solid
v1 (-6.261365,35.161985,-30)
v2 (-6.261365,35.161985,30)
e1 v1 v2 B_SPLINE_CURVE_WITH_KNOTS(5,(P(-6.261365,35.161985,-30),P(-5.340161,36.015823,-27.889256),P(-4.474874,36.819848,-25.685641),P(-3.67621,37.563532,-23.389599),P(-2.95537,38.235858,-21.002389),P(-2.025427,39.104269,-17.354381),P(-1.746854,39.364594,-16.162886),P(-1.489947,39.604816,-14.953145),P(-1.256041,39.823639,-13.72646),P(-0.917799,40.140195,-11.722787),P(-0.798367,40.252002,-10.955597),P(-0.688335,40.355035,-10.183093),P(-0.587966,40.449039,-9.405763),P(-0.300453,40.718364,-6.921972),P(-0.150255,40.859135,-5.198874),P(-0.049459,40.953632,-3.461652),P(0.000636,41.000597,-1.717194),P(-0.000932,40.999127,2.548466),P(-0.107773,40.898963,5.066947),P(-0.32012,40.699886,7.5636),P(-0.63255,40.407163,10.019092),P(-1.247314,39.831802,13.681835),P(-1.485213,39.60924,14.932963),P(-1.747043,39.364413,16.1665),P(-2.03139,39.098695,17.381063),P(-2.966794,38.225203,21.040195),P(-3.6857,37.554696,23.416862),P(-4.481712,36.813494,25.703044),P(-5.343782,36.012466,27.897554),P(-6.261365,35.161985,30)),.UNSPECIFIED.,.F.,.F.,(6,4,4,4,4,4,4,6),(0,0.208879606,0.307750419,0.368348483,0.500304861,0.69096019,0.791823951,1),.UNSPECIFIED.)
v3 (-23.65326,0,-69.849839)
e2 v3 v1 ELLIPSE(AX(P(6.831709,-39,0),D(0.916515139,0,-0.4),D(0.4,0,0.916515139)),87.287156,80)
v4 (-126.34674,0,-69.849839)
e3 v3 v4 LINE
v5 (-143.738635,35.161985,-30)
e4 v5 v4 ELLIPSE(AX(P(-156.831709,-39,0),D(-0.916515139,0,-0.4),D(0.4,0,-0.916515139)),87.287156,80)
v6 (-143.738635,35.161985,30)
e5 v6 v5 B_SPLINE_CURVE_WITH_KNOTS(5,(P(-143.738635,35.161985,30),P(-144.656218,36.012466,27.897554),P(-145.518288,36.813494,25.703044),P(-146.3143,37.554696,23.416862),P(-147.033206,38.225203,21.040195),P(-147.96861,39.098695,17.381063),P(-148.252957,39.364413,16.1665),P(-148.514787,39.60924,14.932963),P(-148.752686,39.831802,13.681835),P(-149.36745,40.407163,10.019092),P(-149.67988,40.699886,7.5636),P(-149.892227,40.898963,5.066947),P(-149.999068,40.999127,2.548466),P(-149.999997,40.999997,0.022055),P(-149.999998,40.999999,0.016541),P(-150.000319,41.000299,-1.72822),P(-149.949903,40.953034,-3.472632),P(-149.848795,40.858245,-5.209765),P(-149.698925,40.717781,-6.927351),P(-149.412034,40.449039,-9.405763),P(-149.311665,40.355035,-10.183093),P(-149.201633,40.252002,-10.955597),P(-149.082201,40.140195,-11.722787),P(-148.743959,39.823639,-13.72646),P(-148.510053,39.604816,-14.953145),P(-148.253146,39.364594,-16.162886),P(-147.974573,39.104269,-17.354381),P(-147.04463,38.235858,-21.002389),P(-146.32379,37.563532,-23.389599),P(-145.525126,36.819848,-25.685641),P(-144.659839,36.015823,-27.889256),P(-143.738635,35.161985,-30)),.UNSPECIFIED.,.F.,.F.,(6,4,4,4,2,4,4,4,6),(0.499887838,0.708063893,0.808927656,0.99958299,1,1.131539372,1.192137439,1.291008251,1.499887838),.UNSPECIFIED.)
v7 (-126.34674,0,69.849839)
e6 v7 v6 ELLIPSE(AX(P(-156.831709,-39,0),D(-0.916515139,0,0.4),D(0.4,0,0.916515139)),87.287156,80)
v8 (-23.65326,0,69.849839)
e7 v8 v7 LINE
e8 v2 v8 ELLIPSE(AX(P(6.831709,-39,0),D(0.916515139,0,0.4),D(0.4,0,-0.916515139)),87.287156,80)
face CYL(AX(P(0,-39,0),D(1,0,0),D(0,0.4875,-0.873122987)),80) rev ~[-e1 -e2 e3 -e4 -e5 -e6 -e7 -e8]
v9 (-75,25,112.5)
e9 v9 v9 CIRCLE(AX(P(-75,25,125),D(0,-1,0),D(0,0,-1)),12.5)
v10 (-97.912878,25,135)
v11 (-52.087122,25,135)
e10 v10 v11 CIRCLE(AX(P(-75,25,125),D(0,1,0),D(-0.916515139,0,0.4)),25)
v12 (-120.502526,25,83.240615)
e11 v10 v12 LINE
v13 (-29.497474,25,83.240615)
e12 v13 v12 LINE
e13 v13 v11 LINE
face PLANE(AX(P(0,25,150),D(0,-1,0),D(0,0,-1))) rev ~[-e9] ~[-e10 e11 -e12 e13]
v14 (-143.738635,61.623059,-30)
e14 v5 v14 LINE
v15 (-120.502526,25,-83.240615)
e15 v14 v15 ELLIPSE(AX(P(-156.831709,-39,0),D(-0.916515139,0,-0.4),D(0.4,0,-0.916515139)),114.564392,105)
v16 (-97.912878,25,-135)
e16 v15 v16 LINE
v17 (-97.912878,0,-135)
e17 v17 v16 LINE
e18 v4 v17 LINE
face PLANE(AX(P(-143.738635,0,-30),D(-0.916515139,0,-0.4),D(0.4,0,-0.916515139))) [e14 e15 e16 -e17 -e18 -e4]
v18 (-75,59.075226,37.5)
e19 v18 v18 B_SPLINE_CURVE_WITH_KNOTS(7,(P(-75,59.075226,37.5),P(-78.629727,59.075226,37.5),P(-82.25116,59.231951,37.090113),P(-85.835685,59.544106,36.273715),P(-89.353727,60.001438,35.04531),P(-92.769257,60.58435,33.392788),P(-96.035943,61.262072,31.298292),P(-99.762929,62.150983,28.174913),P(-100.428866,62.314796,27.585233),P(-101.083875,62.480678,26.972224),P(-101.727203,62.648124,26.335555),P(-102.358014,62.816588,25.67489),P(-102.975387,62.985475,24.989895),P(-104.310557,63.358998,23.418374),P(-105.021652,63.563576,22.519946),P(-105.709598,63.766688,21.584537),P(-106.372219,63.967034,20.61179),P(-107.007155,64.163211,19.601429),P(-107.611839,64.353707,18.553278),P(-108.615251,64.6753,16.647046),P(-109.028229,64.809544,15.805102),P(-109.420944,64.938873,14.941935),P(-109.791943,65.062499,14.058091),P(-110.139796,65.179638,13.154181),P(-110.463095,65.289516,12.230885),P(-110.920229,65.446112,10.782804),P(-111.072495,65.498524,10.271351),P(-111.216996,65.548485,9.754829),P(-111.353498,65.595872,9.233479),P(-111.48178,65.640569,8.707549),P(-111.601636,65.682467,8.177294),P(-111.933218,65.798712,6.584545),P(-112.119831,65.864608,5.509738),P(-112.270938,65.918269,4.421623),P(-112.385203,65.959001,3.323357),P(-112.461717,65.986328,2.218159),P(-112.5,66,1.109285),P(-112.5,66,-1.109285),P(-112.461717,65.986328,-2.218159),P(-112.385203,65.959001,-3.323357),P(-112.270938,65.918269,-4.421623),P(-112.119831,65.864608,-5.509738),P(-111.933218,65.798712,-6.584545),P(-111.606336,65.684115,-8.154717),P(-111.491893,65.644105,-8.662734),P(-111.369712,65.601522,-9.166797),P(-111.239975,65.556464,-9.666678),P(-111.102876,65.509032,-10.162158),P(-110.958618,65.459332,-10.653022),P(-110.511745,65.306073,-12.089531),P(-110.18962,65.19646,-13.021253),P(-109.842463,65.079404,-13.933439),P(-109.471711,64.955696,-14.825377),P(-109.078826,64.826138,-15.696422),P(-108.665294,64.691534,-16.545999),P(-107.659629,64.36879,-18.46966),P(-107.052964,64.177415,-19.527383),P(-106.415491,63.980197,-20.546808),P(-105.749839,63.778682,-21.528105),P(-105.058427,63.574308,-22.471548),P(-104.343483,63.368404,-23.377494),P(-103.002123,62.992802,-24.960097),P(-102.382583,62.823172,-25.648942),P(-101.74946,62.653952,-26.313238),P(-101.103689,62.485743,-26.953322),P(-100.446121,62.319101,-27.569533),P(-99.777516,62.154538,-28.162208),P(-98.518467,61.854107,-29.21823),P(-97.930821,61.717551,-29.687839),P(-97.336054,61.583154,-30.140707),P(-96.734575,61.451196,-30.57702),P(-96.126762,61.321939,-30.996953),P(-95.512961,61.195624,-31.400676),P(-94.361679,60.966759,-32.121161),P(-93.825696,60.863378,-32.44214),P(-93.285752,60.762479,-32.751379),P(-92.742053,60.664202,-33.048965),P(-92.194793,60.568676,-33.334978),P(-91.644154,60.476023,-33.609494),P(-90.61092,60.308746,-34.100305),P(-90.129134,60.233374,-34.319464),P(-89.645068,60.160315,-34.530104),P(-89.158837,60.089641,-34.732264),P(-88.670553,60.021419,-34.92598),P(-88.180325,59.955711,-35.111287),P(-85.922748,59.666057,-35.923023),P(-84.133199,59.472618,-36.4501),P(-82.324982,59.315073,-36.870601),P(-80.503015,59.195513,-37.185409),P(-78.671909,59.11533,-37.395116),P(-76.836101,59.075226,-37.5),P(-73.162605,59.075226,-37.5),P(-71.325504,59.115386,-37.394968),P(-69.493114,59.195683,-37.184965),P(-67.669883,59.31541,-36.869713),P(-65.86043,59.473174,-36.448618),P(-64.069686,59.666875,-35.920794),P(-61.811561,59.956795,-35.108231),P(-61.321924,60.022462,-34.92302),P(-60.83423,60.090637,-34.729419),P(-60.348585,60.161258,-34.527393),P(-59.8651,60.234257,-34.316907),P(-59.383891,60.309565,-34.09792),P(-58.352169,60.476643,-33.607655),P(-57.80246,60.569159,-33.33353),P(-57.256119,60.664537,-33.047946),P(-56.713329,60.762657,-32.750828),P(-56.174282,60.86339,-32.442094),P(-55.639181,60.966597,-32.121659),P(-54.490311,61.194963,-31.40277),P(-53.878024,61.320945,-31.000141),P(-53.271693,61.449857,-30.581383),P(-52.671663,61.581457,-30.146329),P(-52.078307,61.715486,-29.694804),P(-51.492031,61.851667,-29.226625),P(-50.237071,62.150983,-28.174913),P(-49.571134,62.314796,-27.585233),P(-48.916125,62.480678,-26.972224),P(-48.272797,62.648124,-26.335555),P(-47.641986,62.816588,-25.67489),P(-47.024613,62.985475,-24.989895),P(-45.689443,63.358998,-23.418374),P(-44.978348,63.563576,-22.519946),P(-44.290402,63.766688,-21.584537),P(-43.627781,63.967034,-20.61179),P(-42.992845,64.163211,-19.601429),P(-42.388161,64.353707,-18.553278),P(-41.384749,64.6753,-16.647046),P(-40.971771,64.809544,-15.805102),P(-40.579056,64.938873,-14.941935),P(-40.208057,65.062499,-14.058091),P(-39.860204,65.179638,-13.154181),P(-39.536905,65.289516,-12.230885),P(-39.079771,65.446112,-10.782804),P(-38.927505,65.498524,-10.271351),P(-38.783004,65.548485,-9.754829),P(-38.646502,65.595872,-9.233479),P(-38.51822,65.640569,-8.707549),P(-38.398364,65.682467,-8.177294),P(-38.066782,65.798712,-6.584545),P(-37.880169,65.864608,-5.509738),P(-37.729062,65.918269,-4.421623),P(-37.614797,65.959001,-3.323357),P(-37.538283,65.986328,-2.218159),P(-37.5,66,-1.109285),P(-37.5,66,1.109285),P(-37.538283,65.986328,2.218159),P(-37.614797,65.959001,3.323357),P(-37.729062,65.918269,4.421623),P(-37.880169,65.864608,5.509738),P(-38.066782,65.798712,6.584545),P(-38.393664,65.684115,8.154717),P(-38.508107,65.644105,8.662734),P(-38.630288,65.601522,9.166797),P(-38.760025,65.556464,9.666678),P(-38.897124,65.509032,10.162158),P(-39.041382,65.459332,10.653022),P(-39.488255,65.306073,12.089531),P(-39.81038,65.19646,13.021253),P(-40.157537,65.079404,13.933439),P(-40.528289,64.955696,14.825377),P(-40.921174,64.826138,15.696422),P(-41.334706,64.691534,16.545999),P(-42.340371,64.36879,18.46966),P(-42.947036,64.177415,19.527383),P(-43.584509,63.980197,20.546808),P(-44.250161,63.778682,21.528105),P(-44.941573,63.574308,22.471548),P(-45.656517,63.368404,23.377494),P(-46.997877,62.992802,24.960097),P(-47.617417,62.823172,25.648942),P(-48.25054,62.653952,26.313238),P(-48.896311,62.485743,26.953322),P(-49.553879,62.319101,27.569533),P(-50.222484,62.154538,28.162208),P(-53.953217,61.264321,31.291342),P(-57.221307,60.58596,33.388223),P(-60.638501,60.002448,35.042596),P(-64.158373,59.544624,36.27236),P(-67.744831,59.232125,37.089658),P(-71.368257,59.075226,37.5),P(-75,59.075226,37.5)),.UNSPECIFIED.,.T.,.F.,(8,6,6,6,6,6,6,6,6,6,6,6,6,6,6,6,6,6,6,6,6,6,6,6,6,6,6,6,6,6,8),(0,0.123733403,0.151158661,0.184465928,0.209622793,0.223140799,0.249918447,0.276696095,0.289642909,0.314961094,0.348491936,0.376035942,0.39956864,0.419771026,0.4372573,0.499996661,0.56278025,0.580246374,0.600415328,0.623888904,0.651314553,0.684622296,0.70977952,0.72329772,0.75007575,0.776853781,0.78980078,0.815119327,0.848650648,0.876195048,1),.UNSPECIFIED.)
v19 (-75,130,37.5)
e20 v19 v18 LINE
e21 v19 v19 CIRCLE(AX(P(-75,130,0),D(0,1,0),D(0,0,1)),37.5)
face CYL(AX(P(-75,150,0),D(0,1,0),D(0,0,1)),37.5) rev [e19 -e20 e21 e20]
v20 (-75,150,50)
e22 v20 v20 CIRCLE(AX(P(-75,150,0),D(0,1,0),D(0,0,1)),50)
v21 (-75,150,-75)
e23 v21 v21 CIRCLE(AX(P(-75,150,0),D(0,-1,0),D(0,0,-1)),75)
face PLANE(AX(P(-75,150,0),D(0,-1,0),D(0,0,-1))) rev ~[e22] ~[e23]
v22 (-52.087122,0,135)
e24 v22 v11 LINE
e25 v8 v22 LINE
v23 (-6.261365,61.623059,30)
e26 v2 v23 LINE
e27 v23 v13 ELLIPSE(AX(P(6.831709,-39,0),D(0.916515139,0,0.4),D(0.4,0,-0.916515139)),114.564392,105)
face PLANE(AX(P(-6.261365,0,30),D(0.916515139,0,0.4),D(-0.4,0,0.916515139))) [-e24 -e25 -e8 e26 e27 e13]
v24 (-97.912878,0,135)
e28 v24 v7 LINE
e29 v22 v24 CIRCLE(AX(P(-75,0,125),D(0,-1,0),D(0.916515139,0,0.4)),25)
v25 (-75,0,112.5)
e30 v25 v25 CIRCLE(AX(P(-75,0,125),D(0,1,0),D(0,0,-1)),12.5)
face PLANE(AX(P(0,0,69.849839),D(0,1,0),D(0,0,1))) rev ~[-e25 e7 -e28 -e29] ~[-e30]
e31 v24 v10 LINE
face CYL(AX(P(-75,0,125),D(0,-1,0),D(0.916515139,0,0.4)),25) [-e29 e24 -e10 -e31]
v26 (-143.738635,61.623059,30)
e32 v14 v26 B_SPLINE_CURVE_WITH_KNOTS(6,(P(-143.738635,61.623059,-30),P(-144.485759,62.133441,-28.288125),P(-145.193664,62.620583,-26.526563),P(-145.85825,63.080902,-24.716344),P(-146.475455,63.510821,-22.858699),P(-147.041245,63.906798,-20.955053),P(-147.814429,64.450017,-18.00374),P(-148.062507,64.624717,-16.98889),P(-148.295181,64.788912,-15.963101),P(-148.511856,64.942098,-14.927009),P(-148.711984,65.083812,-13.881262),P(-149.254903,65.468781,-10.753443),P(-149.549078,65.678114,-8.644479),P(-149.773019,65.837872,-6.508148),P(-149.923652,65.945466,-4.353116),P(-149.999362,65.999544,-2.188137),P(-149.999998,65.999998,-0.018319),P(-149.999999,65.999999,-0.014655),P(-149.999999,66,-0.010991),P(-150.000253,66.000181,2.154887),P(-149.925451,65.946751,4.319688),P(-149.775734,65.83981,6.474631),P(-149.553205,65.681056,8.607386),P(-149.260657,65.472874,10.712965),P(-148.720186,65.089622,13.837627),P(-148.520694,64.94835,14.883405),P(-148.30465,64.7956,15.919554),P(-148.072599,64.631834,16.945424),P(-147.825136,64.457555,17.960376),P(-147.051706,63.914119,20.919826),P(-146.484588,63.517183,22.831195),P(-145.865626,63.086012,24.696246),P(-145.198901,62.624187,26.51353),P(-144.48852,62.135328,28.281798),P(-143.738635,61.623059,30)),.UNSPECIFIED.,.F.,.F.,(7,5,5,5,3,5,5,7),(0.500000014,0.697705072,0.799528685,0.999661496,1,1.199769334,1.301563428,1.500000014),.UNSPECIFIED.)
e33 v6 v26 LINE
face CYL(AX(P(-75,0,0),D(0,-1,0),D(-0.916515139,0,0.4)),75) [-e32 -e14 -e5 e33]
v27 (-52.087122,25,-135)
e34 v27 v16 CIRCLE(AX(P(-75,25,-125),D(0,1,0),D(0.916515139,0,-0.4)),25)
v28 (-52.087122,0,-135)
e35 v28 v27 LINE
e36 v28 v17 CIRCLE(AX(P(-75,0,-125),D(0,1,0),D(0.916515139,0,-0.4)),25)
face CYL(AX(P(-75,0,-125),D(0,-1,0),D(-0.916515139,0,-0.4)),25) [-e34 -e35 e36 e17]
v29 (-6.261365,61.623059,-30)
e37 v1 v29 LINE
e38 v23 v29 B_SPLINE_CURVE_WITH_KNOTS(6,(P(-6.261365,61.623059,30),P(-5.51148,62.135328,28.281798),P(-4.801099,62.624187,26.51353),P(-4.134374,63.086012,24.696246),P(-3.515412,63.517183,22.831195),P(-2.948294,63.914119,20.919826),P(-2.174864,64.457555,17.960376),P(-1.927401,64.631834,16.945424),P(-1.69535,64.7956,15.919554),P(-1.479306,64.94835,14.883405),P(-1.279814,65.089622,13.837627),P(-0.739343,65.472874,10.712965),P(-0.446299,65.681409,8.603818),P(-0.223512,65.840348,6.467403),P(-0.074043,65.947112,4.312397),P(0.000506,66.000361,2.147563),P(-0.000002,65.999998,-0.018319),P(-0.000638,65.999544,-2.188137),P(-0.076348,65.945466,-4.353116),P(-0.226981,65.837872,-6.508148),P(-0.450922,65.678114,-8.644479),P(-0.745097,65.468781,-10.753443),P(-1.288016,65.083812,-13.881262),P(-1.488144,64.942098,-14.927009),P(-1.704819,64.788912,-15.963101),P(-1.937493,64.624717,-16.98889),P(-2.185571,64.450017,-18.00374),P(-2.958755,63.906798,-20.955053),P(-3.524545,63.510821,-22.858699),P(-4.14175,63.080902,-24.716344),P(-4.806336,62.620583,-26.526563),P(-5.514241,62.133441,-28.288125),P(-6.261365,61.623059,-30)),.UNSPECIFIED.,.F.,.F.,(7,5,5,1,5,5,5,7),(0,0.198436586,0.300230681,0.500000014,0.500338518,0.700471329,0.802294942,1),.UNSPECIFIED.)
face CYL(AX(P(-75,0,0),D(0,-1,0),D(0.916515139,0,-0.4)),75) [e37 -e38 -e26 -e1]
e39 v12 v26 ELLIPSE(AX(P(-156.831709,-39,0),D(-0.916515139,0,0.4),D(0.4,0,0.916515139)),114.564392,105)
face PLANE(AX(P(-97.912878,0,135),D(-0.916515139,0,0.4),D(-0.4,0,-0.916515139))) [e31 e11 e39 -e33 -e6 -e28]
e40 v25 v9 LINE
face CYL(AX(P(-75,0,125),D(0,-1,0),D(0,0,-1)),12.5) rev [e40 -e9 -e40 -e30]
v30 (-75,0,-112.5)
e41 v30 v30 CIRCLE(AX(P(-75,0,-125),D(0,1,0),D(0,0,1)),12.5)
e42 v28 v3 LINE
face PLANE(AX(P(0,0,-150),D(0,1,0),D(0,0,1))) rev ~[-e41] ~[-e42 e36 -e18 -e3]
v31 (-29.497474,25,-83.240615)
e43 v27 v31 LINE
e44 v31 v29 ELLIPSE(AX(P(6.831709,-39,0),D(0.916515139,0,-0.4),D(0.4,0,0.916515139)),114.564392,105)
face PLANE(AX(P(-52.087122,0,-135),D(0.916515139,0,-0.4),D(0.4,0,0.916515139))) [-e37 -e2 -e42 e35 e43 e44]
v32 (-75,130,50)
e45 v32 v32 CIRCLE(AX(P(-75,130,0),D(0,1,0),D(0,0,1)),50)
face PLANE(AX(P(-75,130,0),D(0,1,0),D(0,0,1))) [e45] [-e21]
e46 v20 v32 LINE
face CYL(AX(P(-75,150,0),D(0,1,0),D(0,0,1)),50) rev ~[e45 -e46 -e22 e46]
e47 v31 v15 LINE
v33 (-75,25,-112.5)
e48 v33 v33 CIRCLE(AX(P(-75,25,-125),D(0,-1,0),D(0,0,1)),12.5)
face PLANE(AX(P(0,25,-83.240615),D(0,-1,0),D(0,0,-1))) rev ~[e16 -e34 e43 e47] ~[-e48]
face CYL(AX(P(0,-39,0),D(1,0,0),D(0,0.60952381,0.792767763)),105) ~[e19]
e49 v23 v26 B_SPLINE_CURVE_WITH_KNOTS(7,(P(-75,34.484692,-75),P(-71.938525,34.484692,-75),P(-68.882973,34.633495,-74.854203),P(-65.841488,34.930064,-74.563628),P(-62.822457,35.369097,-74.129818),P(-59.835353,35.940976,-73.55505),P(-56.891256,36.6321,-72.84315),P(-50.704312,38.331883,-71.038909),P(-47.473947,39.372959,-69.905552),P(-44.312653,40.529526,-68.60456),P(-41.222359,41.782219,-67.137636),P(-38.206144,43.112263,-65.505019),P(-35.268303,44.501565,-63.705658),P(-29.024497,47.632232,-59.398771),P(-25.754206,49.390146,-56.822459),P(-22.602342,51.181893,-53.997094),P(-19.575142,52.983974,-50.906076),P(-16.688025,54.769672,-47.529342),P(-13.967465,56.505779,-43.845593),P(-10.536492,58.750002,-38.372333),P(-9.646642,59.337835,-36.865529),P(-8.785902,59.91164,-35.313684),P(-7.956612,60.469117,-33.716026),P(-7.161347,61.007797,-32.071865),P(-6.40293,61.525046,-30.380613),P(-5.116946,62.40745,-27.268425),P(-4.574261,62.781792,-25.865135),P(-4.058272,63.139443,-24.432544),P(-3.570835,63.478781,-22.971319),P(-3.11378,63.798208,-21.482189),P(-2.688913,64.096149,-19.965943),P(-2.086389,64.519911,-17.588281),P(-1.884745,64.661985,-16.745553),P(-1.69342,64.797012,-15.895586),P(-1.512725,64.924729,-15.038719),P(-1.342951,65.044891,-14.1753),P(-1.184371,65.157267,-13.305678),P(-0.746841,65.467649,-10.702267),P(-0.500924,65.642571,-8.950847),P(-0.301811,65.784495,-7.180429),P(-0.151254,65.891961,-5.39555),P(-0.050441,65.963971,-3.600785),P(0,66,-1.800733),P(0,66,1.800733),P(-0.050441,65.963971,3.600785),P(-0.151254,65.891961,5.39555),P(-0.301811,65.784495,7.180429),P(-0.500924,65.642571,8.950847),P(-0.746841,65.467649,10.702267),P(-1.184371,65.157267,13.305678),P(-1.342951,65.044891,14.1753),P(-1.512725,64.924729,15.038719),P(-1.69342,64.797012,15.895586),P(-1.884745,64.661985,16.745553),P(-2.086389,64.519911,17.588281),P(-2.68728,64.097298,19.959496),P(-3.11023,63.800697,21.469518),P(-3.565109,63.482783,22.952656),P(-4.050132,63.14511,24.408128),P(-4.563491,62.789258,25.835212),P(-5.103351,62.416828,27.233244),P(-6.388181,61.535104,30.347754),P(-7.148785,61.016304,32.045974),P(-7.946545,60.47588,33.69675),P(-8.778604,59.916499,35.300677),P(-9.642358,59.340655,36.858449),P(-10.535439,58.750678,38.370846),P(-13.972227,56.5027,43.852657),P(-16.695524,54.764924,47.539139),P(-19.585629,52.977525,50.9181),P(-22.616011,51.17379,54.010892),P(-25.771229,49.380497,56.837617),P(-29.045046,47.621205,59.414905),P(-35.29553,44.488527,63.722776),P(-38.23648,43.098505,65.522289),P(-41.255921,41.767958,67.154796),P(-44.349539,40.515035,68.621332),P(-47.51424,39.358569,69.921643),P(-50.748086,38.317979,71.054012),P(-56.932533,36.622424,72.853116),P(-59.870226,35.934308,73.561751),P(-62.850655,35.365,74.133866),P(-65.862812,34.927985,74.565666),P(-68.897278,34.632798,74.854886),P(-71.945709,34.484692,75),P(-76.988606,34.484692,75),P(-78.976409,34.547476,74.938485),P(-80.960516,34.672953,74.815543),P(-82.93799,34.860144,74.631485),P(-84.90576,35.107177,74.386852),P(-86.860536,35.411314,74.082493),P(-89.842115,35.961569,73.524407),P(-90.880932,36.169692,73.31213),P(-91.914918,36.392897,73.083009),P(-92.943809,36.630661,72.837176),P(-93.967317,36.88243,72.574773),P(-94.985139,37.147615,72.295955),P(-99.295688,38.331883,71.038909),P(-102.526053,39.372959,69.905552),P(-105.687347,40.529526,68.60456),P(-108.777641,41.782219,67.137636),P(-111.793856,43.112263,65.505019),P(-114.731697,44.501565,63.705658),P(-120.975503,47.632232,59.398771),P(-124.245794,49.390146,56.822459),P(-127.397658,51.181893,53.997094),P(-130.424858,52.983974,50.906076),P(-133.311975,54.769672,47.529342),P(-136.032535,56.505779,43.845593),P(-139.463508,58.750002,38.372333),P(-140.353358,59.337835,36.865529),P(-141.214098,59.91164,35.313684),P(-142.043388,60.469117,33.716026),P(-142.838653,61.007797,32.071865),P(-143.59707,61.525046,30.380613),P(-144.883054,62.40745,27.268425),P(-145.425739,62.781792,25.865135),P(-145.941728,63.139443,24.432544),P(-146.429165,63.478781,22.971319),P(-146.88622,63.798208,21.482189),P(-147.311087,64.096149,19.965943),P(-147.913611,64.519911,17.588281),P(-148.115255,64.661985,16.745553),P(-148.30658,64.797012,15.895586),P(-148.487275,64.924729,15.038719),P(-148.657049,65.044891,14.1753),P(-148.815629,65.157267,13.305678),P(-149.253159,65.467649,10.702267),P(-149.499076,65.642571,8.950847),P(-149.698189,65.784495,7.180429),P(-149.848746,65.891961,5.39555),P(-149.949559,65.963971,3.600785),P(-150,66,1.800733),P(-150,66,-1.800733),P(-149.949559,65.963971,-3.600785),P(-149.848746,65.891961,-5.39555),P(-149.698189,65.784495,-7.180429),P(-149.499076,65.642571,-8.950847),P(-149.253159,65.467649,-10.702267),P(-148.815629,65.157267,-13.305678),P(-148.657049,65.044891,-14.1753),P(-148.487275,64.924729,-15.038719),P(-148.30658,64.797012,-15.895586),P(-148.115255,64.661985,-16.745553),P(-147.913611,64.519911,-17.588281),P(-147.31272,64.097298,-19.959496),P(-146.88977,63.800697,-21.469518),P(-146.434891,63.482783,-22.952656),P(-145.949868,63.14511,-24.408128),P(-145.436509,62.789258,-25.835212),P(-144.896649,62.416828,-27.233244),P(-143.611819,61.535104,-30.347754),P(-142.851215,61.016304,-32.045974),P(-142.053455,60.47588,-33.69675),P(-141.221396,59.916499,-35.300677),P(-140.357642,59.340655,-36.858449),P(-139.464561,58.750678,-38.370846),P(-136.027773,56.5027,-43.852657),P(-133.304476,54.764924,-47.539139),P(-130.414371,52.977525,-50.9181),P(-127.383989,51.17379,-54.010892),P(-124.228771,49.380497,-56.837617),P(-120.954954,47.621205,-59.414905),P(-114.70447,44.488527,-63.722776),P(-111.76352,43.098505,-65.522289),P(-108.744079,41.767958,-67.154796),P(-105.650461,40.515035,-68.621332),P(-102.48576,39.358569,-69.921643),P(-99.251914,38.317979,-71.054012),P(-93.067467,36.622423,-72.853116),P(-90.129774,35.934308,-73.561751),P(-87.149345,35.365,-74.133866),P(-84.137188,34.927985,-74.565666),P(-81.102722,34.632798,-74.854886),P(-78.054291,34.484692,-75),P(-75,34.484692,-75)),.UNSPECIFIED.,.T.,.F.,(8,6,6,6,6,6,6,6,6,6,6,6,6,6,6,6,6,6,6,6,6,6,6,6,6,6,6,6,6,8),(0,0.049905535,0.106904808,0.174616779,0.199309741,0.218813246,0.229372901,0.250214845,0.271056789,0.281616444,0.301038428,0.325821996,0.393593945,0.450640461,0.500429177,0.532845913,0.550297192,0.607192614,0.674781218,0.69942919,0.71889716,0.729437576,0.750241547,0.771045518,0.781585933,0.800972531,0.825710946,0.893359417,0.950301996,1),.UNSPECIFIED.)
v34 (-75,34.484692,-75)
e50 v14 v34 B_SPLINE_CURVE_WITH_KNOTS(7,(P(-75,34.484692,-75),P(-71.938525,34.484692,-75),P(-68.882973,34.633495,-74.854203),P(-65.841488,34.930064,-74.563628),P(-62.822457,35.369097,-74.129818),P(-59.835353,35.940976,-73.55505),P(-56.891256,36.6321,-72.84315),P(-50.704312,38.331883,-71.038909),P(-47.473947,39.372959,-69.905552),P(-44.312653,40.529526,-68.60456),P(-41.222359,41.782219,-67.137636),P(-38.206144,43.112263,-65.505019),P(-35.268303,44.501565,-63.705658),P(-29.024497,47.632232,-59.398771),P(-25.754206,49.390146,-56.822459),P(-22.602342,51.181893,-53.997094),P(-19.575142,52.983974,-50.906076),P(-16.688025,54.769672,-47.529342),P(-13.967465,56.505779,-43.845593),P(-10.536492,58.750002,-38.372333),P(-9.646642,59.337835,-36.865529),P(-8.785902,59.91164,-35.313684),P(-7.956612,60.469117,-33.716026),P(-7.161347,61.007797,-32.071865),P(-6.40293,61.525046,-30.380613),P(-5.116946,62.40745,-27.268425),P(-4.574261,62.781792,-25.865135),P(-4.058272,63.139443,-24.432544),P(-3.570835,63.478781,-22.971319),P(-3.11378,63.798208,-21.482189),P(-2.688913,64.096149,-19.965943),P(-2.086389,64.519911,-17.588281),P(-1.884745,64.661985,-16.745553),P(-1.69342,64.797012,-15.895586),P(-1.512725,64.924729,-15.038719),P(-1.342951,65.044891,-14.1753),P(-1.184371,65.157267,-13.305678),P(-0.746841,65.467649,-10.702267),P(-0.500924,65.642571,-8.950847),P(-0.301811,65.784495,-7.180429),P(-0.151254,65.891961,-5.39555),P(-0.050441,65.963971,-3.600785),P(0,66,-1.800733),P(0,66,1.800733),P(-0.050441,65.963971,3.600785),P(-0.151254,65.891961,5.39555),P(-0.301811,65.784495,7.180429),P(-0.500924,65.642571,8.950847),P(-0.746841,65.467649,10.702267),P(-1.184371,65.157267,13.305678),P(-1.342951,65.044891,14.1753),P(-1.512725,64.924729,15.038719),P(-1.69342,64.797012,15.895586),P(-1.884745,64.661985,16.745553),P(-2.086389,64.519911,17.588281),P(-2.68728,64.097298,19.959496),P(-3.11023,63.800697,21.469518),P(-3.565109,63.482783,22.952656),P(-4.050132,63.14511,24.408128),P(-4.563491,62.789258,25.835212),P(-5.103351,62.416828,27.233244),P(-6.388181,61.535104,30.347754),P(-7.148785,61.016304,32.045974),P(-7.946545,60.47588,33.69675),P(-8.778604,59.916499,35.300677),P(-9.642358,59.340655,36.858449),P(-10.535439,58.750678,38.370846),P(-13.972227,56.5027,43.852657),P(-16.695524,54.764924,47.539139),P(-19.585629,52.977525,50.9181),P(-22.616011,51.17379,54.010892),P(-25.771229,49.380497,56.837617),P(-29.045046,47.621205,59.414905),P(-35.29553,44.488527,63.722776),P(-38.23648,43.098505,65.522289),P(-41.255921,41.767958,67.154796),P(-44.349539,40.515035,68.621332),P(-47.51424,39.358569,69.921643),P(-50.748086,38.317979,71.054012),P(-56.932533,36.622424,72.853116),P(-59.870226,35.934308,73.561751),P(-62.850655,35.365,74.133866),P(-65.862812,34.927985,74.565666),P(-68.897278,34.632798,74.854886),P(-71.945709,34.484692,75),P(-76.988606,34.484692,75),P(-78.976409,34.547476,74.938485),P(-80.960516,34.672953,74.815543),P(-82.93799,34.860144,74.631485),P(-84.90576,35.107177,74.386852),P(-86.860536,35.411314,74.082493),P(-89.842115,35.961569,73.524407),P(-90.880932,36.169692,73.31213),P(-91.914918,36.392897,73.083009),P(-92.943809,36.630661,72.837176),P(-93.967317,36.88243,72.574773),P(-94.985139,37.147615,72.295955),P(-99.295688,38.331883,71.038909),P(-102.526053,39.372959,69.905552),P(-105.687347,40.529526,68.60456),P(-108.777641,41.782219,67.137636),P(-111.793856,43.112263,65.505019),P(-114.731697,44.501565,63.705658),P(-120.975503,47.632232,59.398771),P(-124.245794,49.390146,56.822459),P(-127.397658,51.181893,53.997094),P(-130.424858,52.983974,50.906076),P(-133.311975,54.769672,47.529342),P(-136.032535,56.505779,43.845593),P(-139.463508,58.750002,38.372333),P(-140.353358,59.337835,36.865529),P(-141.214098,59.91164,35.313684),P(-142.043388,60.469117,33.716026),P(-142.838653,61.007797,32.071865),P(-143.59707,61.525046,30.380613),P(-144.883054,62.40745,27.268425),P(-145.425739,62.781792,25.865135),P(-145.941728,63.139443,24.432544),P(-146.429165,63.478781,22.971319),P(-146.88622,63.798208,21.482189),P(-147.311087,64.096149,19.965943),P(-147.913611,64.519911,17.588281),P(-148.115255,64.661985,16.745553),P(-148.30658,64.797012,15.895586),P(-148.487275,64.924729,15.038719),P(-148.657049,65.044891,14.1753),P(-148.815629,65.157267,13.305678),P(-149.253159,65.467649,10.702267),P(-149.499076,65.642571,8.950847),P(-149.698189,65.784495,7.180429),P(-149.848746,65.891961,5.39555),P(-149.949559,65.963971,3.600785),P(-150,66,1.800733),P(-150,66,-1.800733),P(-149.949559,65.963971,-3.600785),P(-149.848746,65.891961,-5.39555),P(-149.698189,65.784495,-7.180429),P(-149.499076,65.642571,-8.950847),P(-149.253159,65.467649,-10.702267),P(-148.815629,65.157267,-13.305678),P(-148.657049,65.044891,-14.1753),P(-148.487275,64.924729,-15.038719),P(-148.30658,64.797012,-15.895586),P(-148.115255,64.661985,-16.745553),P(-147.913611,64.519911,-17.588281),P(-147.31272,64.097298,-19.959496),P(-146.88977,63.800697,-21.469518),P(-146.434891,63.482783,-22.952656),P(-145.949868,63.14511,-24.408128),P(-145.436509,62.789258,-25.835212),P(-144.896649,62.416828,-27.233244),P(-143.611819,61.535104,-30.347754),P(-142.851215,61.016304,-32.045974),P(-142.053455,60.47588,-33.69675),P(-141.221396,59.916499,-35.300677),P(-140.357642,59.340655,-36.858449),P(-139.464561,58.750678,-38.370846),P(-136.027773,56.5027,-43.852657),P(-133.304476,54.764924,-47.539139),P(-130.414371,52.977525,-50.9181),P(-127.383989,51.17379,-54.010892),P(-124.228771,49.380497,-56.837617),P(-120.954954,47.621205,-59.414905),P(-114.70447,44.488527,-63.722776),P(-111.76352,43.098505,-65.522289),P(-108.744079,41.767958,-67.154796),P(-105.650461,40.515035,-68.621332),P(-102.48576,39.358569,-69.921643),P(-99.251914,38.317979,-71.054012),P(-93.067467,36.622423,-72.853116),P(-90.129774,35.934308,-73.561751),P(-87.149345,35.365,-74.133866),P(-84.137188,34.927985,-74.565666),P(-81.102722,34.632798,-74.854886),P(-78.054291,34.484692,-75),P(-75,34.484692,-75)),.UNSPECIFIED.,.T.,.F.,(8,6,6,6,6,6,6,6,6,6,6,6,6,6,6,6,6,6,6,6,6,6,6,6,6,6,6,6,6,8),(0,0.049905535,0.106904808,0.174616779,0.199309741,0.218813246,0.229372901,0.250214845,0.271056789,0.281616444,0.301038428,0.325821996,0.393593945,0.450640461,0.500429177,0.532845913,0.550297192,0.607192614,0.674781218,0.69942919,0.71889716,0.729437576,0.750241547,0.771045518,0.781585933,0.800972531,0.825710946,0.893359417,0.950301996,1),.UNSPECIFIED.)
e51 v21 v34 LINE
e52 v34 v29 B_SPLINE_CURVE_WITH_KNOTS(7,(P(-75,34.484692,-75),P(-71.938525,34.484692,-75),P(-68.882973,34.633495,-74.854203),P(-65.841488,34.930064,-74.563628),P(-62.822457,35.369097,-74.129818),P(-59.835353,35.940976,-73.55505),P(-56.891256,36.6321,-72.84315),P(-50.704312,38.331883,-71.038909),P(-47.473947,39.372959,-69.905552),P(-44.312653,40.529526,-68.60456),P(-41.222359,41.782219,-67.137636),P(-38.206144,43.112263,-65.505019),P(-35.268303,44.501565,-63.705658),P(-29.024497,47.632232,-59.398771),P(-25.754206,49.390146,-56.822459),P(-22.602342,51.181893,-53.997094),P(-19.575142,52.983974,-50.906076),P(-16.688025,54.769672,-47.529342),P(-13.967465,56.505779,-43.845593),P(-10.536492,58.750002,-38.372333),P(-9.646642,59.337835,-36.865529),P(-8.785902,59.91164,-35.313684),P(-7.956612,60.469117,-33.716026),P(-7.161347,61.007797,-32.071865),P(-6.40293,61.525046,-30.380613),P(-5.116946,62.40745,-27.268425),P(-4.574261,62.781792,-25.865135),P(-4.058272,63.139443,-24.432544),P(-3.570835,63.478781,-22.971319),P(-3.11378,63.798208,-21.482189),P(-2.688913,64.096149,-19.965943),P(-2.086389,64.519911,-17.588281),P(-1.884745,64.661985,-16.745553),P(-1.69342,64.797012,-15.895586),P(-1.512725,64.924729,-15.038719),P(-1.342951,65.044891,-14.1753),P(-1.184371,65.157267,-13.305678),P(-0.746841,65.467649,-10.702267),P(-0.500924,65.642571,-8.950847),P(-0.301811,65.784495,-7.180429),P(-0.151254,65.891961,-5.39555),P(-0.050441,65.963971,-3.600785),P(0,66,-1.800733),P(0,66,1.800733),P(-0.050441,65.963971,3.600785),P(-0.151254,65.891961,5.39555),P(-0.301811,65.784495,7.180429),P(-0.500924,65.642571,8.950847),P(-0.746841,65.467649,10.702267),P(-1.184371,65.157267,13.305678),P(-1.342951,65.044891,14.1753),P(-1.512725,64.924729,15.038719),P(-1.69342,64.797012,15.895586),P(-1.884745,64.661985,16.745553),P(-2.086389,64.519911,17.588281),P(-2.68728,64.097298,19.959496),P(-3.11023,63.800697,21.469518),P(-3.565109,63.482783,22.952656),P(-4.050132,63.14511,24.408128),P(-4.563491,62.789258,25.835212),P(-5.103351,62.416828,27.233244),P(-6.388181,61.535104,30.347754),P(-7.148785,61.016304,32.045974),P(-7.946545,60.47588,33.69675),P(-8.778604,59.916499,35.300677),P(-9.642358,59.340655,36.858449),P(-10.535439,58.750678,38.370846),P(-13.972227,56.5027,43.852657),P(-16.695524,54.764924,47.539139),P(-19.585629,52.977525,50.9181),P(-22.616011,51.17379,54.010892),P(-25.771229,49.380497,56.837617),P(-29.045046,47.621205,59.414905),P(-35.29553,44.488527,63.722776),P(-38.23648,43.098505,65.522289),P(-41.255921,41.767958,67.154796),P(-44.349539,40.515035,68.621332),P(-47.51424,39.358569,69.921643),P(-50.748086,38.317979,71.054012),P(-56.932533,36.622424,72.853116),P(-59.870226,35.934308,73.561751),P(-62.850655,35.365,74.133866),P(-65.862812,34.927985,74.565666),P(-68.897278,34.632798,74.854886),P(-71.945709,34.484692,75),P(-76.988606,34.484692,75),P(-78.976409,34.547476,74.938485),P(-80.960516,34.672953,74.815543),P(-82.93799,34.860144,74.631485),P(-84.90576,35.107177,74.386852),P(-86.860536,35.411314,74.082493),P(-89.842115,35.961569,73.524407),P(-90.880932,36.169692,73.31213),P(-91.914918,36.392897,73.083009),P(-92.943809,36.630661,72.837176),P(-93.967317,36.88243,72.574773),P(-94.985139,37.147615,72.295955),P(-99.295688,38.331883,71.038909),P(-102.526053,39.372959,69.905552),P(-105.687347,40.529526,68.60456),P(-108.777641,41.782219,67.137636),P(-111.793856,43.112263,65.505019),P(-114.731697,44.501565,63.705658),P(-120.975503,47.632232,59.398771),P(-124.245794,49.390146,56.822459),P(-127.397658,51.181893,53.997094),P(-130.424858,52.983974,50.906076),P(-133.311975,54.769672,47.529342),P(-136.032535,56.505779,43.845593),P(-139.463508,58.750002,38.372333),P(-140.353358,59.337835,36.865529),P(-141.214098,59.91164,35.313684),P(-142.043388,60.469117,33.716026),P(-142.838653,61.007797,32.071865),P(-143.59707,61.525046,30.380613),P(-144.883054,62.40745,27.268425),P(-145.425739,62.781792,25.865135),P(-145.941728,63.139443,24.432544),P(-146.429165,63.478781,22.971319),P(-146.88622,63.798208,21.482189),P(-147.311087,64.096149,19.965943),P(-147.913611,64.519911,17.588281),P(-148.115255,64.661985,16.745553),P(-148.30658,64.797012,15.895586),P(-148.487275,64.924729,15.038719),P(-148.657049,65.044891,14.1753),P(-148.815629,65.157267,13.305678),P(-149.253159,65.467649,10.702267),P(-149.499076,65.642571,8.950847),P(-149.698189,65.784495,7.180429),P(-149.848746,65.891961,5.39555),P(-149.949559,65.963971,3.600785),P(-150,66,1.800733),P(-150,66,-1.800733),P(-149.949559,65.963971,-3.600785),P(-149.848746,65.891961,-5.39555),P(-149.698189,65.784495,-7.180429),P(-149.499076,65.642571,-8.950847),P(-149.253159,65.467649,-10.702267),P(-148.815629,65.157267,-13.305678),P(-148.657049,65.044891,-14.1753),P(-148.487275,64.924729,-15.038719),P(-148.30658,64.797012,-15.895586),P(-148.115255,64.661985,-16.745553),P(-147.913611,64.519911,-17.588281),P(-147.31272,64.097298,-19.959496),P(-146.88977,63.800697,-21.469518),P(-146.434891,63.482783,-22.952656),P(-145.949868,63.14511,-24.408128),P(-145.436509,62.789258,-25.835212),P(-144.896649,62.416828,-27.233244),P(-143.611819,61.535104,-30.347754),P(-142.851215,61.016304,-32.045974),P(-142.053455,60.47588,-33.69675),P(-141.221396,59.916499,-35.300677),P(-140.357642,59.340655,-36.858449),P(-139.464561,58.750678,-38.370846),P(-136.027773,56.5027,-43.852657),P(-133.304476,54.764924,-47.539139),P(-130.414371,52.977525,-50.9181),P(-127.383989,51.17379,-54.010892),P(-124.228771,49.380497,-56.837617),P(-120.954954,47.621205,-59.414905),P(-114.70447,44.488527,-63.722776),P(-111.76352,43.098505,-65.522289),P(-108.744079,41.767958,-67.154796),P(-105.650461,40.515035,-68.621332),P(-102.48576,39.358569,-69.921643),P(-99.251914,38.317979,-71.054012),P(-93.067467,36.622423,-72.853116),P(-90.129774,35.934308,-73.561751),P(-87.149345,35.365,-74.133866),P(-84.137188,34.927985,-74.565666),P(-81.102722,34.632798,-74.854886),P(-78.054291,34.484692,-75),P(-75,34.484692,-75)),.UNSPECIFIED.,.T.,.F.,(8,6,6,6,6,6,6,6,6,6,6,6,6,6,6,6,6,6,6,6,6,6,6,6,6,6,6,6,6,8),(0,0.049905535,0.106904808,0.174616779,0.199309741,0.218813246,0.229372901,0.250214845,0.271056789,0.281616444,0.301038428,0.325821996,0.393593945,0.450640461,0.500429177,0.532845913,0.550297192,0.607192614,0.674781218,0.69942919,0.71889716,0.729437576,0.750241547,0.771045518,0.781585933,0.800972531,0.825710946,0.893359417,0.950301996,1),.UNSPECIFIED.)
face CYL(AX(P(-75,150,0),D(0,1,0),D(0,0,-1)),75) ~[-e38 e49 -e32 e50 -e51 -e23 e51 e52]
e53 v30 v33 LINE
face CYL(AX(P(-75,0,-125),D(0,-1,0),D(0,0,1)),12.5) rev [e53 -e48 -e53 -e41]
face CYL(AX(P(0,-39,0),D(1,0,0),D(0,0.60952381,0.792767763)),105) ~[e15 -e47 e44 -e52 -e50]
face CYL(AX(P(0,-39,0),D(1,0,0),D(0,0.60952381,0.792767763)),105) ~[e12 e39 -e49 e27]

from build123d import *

# Parameters (mm, degrees)
BOSS_EXTRUDE1_DEPTH      = 150
SKETCH2_OUTSIDE_W        = 220.368
SKETCH2_OUTSIDE_H        = 370.368
SKETCH2_OUTSIDE_R        = 12.5
CUT_EXTRUDE3_DEPTH       = 150
BOSS_EXTRUDE6_REACH      = 261.808
BOSS_EXTRUDE6_END_RADIUS = 105
SKETCH5_R                = 75
SKETCH5_R_2              = 37.5
SKETCH6_R                = 50
CUT_EXTRUDE4_DEPTH       = 20


with BuildPart() as part:
    # Sketch1 → Boss-Extrude1 (new body)
    with BuildSketch(Plane(origin=(0, 0, 0), x_dir=(0, 0, -1), z_dir=(1, 0, 0))):
        with BuildLine():
            Line((83.240615087, 25), (150, 25))
            Line((150, 25), (150, 0))
            Line((150, 0), (69.84983894, 0))
            ThreePointArc((69.84983894, 0), (0, 41), (-69.84983894, 0))
            Line((-69.84983894, 0), (-150, 0))
            Line((-150, 0), (-150, 25))
            Line((-150, 25), (-83.240615087, 25))
            ThreePointArc((-83.240615087, 25), (0, 66), (83.240615087, 25))
        make_face()
    extrude(amount=-BOSS_EXTRUDE1_DEPTH)

    # Sketch2 outside → Cut-Extrude3 (cut)
    # profile 1 of 3: a face of its own
    with BuildSketch(Plane(origin=(0, 0, 0), x_dir=(1, 0, 0), z_dir=(0, 1, 0))):
        with Locations((-75, 0)):
            Rectangle(SKETCH2_OUTSIDE_W, SKETCH2_OUTSIDE_H)
        with BuildLine():
            Line((-143.738635424, 30), (-97.912878475, 135))
            ThreePointArc((-97.912878475, 135), (-75, 150), (-52.087121525, 135))
            Line((-52.087121525, 135), (-6.261364576, 30))
            ThreePointArc((-6.261364576, 30), (0, 0), (-6.261364576, -30))
            Line((-6.261364576, -30), (-52.087121525, -135))
            ThreePointArc((-52.087121525, -135), (-75, -150), (-97.912878475, -135))
            Line((-97.912878475, -135), (-143.738635424, -30))
            ThreePointArc((-143.738635424, -30), (-150, 0), (-143.738635424, 30))
        make_face(mode=Mode.SUBTRACT)
    # profile 2 of 3: a face of its own
    with BuildSketch(Plane(origin=(0, 0, 0), x_dir=(1, 0, 0), z_dir=(0, 1, 0))):
        with Locations(Location((-75, 125, 0), (0, 0, 270))):
            Circle(SKETCH2_OUTSIDE_R)
    # profile 3 of 3: a face of its own
    with BuildSketch(Plane(origin=(0, 0, 0), x_dir=(1, 0, 0), z_dir=(0, 1, 0))):
        with Locations(Location((-75, -125, 0), (0, 0, 90))):
            Circle(SKETCH2_OUTSIDE_R)
    extrude(amount=CUT_EXTRUDE3_DEPTH, mode=Mode.SUBTRACT)

    # Boss-Extrude6: up to this cylinder (the profile starts outside it)
    boss_extrude6_end = Plane(origin=(-75, -39, 0), z_dir=(1, 0, 0)) * Cylinder(BOSS_EXTRUDE6_END_RADIUS, 734.616, mode=Mode.PRIVATE)
    # Sketch5 → Boss-Extrude6 (add, up to the surface)
    with BuildSketch(Plane(origin=(0, 150, 0), x_dir=(-1, 0, 0), z_dir=(0, -1, 0)), mode=Mode.PRIVATE) as boss_extrude6_sk1:
        with Locations(Location((75, 0, 0), (0, 0, 90))):
            Circle(SKETCH5_R)
        with Locations(Location((75, 0, 0), (0, 0, 270))):
            Circle(SKETCH5_R_2, mode=Mode.SUBTRACT)
    boss_extrude6_tool1 = extrude(boss_extrude6_sk1.sketch, amount=BOSS_EXTRUDE6_REACH, mode=Mode.PRIVATE) - boss_extrude6_end
    add(boss_extrude6_tool1.solids().sort_by_distance((-75, 150, 72.87868))[0])

    # Sketch6 → Cut-Extrude4 (cut)
    with BuildSketch(Plane(origin=(0, 150, 0), x_dir=(1, 0, 0), z_dir=(0, 1, 0))):
        with Locations(Location((-75, 0, 0), (0, 0, 270))):
            Circle(SKETCH6_R)
    extrude(amount=-CUT_EXTRUDE4_DEPTH, mode=Mode.SUBTRACT)


solid = part.part
